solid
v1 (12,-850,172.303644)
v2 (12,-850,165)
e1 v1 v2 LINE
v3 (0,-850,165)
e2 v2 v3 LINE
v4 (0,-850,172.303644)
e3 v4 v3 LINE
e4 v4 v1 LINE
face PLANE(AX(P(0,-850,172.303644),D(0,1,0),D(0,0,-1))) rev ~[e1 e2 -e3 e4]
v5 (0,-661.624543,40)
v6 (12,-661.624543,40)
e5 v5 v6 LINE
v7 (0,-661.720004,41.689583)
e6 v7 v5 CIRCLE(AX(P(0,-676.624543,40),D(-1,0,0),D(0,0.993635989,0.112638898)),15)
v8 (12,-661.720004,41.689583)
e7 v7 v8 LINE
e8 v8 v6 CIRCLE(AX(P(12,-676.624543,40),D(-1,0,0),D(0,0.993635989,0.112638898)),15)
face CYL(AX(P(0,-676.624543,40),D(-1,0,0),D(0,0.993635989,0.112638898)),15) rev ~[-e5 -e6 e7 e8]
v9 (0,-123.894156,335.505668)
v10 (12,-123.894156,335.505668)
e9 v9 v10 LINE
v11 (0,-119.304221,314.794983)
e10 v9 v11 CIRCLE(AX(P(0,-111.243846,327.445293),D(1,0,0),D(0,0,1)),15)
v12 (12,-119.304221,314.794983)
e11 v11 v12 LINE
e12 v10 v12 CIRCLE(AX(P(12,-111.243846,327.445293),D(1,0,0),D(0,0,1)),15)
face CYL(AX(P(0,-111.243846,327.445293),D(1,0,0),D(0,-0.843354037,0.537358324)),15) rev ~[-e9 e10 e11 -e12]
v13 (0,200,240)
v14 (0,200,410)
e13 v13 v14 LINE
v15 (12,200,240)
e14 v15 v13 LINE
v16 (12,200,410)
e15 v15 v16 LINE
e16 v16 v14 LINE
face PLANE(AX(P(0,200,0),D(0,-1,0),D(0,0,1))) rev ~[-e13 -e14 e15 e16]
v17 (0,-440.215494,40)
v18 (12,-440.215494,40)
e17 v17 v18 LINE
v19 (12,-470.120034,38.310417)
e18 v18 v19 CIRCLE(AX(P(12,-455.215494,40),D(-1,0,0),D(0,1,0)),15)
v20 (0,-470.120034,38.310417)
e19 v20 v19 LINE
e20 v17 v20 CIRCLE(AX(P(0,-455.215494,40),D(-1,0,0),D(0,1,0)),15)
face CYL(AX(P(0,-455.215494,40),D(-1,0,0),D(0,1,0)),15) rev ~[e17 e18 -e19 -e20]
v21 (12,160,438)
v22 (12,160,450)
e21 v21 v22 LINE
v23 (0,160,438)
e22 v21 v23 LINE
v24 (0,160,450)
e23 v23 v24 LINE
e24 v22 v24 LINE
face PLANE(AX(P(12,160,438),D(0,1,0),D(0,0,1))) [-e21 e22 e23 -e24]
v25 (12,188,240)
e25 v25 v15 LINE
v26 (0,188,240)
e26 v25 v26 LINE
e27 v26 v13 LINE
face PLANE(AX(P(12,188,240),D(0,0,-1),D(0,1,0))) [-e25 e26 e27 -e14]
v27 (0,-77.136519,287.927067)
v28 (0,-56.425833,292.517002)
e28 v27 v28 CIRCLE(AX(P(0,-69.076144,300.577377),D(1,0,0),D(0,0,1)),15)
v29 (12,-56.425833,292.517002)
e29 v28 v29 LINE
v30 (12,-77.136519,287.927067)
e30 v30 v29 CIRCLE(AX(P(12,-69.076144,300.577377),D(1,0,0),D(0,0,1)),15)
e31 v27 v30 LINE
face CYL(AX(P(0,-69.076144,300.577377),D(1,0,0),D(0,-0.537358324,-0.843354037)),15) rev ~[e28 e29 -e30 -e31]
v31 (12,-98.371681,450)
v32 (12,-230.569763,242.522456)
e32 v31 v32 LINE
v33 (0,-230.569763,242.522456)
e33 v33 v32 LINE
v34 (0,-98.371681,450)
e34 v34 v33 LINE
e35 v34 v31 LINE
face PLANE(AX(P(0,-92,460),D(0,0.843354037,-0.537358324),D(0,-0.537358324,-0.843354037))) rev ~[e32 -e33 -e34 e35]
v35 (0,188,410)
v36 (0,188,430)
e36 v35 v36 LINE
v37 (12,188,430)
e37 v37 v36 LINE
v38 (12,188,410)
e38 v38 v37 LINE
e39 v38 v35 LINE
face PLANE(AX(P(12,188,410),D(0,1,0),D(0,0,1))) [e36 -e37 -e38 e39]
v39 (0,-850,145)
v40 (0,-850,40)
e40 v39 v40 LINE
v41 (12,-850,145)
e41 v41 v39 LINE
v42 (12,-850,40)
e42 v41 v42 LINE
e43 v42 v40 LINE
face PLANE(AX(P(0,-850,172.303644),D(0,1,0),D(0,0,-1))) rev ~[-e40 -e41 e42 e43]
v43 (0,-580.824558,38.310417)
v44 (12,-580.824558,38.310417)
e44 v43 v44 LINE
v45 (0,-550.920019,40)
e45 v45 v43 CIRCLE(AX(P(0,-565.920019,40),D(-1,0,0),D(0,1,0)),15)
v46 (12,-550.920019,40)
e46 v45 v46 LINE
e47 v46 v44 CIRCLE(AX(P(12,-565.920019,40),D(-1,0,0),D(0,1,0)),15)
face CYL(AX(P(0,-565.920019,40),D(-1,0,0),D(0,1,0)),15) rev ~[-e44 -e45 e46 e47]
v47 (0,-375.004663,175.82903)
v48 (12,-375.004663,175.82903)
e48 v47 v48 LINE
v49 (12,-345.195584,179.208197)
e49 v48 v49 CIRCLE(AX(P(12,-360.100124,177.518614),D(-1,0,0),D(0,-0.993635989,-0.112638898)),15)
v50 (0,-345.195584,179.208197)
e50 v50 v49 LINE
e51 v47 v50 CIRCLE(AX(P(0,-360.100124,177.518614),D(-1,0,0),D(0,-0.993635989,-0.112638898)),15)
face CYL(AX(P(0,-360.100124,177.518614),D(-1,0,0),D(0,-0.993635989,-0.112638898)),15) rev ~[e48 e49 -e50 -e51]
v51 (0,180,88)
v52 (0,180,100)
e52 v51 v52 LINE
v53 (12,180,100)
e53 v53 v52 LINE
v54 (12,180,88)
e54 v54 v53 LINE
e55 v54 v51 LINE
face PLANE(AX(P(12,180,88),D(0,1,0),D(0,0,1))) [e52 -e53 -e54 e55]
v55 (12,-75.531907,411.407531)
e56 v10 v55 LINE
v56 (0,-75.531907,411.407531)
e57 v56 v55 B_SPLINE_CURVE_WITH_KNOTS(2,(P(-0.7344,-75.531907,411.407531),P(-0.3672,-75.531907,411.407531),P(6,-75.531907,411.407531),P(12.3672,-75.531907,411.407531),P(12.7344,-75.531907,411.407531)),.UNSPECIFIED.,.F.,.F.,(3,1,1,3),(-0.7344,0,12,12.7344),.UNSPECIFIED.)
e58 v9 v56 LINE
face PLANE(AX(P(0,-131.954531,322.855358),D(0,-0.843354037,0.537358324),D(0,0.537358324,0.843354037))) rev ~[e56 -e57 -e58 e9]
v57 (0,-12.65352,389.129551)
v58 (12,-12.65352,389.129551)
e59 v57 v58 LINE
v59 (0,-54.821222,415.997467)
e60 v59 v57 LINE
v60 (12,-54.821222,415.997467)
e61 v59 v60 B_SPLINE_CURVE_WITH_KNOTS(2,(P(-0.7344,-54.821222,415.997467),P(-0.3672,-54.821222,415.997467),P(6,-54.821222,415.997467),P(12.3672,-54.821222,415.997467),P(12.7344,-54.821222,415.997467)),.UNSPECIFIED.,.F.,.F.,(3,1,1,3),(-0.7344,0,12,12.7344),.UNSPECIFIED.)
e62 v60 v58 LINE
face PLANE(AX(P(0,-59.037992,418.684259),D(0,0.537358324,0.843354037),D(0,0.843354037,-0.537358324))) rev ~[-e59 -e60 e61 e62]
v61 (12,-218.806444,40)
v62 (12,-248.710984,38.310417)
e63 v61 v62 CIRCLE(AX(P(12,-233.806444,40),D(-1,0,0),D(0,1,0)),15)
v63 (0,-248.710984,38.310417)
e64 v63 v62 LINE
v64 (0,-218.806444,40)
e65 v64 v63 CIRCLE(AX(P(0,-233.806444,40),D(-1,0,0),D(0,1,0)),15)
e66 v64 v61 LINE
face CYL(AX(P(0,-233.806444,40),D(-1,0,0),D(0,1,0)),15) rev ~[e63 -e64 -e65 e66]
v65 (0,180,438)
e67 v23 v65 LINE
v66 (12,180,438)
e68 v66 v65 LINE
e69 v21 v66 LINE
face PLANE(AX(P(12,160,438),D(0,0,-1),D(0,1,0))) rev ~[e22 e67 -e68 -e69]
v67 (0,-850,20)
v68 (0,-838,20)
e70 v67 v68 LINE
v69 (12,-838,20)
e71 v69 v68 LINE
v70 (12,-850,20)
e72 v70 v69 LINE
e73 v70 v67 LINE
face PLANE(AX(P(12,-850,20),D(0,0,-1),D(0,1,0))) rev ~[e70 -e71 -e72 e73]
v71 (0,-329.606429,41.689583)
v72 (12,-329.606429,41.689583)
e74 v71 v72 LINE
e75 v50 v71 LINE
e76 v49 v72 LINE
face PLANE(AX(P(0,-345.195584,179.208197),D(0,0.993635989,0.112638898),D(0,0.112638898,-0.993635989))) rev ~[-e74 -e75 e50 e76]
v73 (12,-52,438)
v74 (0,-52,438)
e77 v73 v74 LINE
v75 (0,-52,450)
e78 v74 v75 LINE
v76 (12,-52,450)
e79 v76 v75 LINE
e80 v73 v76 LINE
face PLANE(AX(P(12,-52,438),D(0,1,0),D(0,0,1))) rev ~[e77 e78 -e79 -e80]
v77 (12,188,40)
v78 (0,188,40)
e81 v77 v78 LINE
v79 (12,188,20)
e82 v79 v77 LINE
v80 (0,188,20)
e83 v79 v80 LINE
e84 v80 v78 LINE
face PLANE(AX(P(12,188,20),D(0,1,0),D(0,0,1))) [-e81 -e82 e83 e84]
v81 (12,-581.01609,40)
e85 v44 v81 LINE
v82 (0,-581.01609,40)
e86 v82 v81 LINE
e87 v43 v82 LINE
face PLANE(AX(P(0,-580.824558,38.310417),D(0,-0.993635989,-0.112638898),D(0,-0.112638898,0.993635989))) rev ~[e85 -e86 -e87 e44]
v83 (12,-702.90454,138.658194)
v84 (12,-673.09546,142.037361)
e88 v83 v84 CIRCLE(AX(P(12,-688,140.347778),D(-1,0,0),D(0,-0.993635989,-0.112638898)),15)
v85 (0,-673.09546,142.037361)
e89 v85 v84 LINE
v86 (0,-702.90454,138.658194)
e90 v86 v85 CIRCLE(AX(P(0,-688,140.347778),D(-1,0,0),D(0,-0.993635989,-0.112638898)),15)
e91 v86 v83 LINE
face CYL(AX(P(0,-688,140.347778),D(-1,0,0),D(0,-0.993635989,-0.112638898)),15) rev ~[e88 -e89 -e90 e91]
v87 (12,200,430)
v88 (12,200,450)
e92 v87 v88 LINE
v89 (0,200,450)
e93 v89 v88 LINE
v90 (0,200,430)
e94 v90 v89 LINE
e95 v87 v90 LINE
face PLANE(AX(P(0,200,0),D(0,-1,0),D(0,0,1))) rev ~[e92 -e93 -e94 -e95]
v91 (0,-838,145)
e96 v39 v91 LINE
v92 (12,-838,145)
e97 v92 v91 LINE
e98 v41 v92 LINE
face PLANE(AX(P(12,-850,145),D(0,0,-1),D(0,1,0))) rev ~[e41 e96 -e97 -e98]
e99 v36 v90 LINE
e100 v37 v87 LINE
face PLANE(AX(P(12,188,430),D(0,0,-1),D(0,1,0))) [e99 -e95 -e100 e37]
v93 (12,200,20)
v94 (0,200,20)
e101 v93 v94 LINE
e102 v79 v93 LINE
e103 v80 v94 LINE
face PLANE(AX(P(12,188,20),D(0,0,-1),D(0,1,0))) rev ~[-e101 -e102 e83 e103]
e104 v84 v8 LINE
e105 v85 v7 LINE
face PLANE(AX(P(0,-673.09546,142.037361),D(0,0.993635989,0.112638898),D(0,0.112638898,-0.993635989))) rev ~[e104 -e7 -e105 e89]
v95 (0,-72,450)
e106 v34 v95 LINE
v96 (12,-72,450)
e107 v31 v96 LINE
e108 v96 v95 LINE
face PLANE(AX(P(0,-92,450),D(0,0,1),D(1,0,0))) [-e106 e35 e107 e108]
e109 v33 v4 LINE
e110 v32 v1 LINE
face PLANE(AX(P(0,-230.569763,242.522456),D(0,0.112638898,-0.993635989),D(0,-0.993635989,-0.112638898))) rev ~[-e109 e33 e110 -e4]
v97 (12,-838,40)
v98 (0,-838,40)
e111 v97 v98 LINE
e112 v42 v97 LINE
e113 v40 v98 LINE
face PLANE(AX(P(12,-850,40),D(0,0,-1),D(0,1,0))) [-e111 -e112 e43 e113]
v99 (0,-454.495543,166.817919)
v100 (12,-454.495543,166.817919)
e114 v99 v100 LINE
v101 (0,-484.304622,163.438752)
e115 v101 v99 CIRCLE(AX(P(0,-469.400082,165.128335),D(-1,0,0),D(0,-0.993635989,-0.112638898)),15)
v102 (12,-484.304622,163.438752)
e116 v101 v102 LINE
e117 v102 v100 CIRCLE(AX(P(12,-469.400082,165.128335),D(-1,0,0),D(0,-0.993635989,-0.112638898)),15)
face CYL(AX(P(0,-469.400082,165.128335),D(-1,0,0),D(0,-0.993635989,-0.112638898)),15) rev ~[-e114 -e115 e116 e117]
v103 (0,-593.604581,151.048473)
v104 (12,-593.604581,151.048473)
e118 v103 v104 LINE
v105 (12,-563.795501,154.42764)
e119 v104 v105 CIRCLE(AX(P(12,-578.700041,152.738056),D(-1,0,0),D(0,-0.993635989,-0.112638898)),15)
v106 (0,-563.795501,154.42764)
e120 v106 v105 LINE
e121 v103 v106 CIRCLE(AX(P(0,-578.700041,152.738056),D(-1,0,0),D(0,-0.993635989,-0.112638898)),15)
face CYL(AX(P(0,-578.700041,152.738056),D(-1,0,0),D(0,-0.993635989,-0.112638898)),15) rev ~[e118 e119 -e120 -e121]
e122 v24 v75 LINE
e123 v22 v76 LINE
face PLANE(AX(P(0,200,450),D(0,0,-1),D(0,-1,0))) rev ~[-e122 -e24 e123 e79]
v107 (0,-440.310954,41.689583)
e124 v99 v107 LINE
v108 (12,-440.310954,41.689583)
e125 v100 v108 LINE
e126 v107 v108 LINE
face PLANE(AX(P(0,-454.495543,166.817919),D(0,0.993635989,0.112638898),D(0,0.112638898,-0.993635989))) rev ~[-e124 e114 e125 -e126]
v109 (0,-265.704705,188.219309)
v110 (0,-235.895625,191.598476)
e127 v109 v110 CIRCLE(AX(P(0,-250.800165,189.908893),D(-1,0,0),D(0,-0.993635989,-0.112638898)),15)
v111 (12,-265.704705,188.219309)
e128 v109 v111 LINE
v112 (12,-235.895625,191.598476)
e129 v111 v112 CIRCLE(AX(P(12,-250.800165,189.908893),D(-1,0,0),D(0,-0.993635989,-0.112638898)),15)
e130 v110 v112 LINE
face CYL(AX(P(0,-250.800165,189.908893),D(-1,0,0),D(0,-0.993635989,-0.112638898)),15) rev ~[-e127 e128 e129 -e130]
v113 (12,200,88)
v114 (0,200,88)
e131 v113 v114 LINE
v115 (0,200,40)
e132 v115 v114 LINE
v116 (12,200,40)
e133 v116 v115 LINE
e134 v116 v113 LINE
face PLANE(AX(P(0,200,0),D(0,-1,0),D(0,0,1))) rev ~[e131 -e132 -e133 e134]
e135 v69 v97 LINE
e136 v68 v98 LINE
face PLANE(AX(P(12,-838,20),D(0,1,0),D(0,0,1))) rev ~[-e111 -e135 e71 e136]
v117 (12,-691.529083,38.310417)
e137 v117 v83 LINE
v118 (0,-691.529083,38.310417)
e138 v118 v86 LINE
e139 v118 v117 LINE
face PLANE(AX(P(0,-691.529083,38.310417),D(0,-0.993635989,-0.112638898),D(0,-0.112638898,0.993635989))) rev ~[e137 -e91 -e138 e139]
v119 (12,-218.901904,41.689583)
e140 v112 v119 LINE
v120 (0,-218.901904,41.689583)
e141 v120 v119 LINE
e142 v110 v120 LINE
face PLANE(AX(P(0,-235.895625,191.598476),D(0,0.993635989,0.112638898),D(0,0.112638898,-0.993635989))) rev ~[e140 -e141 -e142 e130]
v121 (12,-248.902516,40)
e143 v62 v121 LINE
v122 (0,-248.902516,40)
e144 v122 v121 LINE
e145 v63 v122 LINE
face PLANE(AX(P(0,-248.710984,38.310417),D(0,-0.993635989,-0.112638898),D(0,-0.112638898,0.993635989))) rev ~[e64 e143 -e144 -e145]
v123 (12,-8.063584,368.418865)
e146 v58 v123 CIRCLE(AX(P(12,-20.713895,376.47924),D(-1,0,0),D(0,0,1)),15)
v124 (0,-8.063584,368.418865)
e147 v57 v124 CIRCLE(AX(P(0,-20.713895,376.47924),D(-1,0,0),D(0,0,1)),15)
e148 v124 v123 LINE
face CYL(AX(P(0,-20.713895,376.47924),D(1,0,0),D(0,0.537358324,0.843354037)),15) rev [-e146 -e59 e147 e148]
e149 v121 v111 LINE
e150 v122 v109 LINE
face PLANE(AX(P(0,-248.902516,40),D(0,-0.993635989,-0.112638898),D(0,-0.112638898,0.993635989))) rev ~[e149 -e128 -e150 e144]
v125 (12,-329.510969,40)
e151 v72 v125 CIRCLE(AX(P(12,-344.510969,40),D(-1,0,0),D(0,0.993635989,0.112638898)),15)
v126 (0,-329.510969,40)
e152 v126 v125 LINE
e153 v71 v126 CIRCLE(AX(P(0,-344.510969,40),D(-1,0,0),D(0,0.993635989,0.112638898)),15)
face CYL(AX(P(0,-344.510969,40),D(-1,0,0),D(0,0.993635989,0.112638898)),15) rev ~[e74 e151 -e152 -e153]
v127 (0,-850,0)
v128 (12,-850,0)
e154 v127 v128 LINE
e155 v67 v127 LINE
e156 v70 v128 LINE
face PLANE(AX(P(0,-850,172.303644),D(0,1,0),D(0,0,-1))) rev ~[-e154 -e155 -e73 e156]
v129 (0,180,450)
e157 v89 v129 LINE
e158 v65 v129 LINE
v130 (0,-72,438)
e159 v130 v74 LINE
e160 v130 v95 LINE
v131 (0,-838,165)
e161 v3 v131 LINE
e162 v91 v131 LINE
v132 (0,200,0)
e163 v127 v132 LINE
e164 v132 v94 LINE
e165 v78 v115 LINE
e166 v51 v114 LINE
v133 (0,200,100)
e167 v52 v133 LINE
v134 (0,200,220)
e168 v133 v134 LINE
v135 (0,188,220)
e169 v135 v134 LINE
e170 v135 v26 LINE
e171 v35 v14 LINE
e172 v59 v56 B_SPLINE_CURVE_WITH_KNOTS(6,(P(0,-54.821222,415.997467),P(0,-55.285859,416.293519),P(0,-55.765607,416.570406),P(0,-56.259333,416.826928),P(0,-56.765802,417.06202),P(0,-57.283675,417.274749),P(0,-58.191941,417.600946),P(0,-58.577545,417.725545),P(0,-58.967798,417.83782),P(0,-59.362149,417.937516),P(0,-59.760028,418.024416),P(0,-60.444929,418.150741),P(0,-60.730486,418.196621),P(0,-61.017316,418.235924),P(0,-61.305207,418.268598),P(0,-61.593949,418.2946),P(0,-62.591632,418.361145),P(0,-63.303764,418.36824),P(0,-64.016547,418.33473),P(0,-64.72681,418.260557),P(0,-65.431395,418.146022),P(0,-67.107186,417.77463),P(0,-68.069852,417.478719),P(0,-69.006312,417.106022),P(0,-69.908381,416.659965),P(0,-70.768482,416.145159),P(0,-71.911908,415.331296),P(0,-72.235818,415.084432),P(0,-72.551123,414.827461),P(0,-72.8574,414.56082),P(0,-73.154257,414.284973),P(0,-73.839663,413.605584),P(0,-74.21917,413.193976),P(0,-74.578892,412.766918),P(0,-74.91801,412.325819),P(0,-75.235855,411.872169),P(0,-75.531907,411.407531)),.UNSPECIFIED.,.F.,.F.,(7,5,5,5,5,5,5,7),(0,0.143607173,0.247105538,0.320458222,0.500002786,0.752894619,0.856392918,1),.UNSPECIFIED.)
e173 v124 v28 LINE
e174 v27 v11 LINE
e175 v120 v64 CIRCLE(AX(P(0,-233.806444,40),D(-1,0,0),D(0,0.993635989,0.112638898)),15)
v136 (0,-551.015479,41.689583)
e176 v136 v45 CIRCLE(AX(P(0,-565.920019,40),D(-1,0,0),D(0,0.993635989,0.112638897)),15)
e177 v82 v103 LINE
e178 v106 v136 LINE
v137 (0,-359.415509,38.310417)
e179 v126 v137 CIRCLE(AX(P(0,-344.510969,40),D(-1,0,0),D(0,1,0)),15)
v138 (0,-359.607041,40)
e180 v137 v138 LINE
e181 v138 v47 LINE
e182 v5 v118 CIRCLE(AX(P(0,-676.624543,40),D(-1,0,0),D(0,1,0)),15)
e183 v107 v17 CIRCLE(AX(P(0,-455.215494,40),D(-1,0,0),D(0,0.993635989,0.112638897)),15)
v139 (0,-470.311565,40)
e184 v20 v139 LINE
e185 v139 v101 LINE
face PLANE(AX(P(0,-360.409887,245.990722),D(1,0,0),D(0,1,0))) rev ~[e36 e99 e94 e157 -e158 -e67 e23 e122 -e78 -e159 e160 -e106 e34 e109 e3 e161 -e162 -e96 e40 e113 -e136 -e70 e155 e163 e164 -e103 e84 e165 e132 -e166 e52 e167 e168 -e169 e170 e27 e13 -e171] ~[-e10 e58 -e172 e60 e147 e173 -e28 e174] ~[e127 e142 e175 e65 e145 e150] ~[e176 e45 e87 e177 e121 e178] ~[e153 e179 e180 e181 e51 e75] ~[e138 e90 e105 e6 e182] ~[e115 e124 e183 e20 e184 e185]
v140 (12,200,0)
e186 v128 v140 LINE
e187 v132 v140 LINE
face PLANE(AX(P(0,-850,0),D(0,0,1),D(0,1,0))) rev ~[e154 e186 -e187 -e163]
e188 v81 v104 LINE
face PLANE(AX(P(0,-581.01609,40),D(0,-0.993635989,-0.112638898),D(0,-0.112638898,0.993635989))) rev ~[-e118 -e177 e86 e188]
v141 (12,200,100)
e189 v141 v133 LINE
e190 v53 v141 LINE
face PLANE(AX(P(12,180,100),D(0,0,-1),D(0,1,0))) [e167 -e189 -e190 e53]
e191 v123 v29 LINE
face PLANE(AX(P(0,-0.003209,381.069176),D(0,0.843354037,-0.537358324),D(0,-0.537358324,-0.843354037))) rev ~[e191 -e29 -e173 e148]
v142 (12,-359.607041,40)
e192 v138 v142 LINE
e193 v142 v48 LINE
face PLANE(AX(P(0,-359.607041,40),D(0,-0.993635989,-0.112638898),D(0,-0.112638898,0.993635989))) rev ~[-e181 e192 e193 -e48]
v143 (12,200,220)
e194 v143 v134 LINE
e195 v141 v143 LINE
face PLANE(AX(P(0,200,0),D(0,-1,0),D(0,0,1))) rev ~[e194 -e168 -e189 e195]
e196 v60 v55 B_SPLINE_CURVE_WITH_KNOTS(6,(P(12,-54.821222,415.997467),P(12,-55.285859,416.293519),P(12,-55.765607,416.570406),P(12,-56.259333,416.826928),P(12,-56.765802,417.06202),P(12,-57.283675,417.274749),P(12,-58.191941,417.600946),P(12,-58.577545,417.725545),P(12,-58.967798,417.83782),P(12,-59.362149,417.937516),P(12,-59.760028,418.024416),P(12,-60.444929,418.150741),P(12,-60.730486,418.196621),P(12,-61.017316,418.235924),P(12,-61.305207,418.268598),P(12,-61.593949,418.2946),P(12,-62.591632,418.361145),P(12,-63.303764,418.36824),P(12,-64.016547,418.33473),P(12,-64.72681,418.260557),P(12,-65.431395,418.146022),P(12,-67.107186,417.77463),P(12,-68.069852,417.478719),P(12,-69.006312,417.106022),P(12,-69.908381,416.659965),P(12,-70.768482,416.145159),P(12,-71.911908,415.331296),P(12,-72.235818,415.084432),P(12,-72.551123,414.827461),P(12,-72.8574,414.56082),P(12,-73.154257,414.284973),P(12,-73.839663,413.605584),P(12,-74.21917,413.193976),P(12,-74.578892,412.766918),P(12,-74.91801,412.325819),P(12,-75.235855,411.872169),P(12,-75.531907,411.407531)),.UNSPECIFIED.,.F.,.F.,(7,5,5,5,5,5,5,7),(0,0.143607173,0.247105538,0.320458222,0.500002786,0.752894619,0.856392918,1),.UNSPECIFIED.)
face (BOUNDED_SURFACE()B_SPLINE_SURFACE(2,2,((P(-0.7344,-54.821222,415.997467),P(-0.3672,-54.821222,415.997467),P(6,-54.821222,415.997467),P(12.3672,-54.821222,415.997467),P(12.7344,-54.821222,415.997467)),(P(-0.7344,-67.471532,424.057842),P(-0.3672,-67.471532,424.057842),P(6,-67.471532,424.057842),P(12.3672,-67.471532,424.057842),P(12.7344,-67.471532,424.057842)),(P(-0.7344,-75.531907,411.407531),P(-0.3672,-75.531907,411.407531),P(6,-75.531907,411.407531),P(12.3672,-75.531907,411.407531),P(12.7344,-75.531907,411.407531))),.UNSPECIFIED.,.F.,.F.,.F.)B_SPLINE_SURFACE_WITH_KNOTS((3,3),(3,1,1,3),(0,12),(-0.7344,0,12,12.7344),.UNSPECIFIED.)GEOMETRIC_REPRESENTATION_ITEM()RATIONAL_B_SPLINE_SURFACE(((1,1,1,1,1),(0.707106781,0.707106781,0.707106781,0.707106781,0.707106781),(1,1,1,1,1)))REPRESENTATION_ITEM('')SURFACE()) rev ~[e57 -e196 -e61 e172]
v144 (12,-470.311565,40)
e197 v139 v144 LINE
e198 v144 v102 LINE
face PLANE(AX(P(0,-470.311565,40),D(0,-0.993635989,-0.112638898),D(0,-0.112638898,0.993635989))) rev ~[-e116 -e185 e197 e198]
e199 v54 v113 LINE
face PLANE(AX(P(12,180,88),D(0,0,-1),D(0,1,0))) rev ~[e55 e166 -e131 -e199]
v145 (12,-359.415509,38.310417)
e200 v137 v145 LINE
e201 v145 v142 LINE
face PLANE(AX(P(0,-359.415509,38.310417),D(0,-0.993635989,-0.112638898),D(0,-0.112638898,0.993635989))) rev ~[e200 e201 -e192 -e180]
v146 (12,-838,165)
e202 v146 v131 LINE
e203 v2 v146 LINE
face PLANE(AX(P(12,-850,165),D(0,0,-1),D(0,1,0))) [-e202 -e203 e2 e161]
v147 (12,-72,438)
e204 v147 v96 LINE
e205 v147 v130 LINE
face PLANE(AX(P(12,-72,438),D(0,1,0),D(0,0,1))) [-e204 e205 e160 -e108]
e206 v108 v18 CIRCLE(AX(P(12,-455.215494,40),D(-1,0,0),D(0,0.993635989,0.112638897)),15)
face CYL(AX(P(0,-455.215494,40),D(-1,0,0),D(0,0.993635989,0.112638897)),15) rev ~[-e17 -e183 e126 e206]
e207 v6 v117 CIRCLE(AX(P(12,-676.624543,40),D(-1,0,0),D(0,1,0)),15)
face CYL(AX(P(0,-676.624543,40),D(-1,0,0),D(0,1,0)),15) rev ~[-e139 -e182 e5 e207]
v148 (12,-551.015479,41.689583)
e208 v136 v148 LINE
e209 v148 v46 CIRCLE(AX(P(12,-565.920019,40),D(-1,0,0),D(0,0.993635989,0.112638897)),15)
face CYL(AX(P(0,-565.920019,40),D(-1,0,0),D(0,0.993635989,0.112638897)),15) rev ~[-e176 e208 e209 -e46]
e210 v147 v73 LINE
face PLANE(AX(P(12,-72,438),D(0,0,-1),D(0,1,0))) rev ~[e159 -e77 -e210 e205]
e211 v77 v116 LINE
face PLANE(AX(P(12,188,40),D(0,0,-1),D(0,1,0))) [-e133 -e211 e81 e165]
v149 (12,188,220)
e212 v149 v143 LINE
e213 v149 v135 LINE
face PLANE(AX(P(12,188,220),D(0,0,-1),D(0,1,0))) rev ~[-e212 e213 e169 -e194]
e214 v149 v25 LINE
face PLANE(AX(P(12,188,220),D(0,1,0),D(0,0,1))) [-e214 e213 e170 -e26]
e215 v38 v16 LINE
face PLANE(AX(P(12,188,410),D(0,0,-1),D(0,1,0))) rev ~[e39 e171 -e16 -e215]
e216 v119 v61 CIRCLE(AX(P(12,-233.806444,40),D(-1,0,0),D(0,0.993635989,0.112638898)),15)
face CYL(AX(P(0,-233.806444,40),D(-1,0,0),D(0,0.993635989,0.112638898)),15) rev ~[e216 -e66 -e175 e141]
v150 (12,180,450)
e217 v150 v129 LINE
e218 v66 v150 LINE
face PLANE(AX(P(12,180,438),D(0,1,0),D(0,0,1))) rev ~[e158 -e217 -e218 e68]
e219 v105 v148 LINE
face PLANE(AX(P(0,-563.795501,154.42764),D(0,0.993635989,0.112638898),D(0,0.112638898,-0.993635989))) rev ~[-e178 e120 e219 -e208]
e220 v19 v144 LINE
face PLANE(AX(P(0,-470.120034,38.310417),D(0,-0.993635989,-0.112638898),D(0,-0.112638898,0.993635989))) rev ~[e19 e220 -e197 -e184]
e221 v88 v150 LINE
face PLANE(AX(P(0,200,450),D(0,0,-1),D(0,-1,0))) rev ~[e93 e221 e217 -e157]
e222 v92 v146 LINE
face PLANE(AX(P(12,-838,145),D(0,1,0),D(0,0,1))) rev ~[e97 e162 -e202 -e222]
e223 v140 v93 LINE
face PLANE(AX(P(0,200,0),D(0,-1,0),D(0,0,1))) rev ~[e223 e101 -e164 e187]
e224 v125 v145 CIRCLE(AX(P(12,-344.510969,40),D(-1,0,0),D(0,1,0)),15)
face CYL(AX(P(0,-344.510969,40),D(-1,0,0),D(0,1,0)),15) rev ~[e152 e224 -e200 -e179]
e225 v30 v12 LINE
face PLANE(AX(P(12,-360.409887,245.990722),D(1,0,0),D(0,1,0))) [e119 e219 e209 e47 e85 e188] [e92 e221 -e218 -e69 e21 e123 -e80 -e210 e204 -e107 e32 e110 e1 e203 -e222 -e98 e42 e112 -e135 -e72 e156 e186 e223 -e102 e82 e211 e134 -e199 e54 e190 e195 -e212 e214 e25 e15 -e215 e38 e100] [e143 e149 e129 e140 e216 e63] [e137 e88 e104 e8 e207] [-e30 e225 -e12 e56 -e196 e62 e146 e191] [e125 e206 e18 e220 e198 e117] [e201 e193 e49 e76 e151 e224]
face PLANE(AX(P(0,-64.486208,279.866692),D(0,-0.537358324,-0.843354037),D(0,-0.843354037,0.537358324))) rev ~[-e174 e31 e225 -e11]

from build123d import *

# Parameters (mm, degrees)
F0_W     = 200
F0_H     = 460
F1_DEPTH = 12
F2_W     = 12
F2_H     = 20
F2_W_2   = 20
F2_H_2   = 22
F3_DEPTH = 25
F4_R     = 15
F5_W     = 20
F5_H     = 12
F6_DEPTH = 25
F7_DEPTH = 10
F8_DEPTH = 25


with BuildPart() as f1:
    # F0 (on Right) → F1 (new body)
    with BuildSketch(Plane.YZ):
        with BuildLine():
            Line((-738, 185), (-738, 134.6797614515))
            Line((-738, 134.6797614515), (-702.9045398359, 138.6581941826))
            ThreePointArc((-702.9045398359, 138.6581941826), (-689.6895834632, 155.2523174818), (-673.0954601641, 142.037361109))
            Line((-673.0954601641, 142.037361109), (-593.6045810391, 151.0484729126))
            ThreePointArc((-593.6045810391, 151.0484729126), (-580.3896246663, 167.6425962118), (-563.7955013672, 154.427639839))
            Line((-563.7955013672, 154.427639839), (-484.3046222422, 163.4387516427))
            ThreePointArc((-484.3046222422, 163.4387516427), (-471.0896658695, 180.0328749418), (-454.4955425704, 166.817918569))
            Line((-454.4955425704, 166.817918569), (-375.0046634454, 175.8290303727))
            ThreePointArc((-375.0046634454, 175.8290303727), (-361.7897070726, 192.4231536718), (-345.1955837735, 179.208197299))
            Line((-345.1955837735, 179.208197299), (-265.7047046485, 188.2193091027))
            ThreePointArc((-265.7047046485, 188.2193091027), (-252.4897482758, 204.8134324018), (-235.8956249767, 191.598476029))
            Line((-235.8956249767, 191.598476029), (-201.2256178564, 195.5286792653))
            Line((-201.2256178564, 195.5286792653), (-123.5209909069, 317.4817743388))
            Line((-123.5209909069, 317.4817743388), (-131.9545312744, 322.8553575818))
            Line((-131.9545312744, 322.8553575818), (-67.4715323582, 424.0578419919))
            Line((-67.4715323582, 424.0578419919), (-59.0379919907, 418.6842587489))
            Line((-59.0379919907, 418.6842587489), (-32.7129179192, 460))
            Line((-32.7129179192, 460), (-92, 460))
            Line((-92, 460), (-100.5596901216, 446.5660418925))
            Line((-100.5596901216, 446.5660418925), (-230.5697625024, 242.5224560726))
            Line((-230.5697625024, 242.5224560726), (-738, 185))
        make_face()
        with BuildLine():
            Line((-593.6045810391, 151.0484729126), (-673.0954601641, 142.037361109))
            Line((-673.0954601641, 142.037361109), (-661.7200035888, 41.6895834632))
            ThreePointArc((-661.7200035888, 41.6895834632), (-661.6484274807, 40.8461390137), (-661.6245434248, 40))
            Line((-661.6245434248, 40), (-581.0160901826, 40))
            Line((-581.0160901826, 40), (-593.6045810391, 151.0484729126))
        make_face()
        with BuildLine():
            Line((-738, 0), (0, 0))
            Line((0, 0), (0, 460))
            Line((0, 460), (-32.7129179192, 460))
            Line((-32.7129179192, 460), (-59.0379919907, 418.6842587489))
            Line((-59.0379919907, 418.6842587489), (-0.0032094182, 381.0691760478))
            Line((-0.0032094182, 381.0691760478), (-64.4862083343, 279.8666916377))
            Line((-64.4862083343, 279.8666916377), (-123.5209909069, 317.4817743388))
            Line((-123.5209909069, 317.4817743388), (-201.2256178564, 195.5286792653))
            Line((-201.2256178564, 195.5286792653), (-231.0372798934, 148.7409319016))
            Line((-231.0372798934, 148.7409319016), (-218.9019043619, 41.6895834632))
            ThreePointArc((-218.9019043619, 41.6895834632), (-218.8303282538, 40.8461390137), (-218.8064441979, 40))
            ThreePointArc((-218.8064441979, 40), (-232.9603051842, 25.023884056), (-248.7109840338, 38.3104165368))
            Line((-248.7109840338, 38.3104165368), (-248.9025157624, 40))
            Line((-248.9025157624, 40), (-329.5109690046, 40))
            ThreePointArc((-329.5109690046, 40), (-343.6648299909, 25.023884056), (-359.4155088405, 38.3104165368))
            Line((-359.4155088405, 38.3104165368), (-359.6070405691, 40))
            Line((-359.6070405691, 40), (-440.2154938113, 40))
            ThreePointArc((-440.2154938113, 40), (-454.3693547976, 25.023884056), (-470.1200336472, 38.3104165368))
            Line((-470.1200336472, 38.3104165368), (-470.3115653759, 40))
            Line((-470.3115653759, 40), (-550.920018618, 40))
            ThreePointArc((-550.920018618, 40), (-565.0738796043, 25.023884056), (-580.824558454, 38.3104165368))
            Line((-580.824558454, 38.3104165368), (-581.0160901826, 40))
            Line((-581.0160901826, 40), (-661.6245434248, 40))
            ThreePointArc((-661.6245434248, 40), (-675.7784044111, 25.023884056), (-691.5290832607, 38.3104165368))
            Line((-691.5290832607, 38.3104165368), (-702.9045398359, 138.6581941826))
            Line((-702.9045398359, 138.6581941826), (-738, 134.6797614515))
            Line((-738, 134.6797614515), (-738, 0))
        make_face()
        with BuildLine():
            Line((-484.3046222422, 163.4387516427), (-563.7955013672, 154.427639839))
            Line((-563.7955013672, 154.427639839), (-551.0154787821, 41.6895834632))
            ThreePointArc((-551.0154787821, 41.6895834632), (-550.943902674, 40.8461390137), (-550.920018618, 40))
            Line((-550.920018618, 40), (-470.3115653759, 40))
            Line((-470.3115653759, 40), (-484.3046222422, 163.4387516427))
        make_face()
        with BuildLine():
            Line((-375.0046634454, 175.8290303727), (-454.4955425704, 166.817918569))
            Line((-454.4955425704, 166.817918569), (-440.3109539754, 41.6895834632))
            ThreePointArc((-440.3109539754, 41.6895834632), (-440.2393778673, 40.8461390137), (-440.2154938113, 40))
            Line((-440.2154938113, 40), (-359.6070405691, 40))
            Line((-359.6070405691, 40), (-375.0046634454, 175.8290303727))
        make_face()
        with BuildLine():
            Line((-256.6691814309, 108.513086433), (-265.7047046485, 188.2193091027))
            Line((-265.7047046485, 188.2193091027), (-345.1955837735, 179.208197299))
            Line((-345.1955837735, 179.208197299), (-329.6064291686, 41.6895834632))
            ThreePointArc((-329.6064291686, 41.6895834632), (-329.5348530605, 40.8461390137), (-329.5109690046, 40))
            Line((-329.5109690046, 40), (-248.9025157624, 40))
            Line((-248.9025157624, 40), (-256.6691814309, 108.513086433))
        make_face()
        Polygon((-231.0372798934, 148.7409319016), (-201.2256178564, 195.5286792653), (-235.8956249767, 191.598476029), align=None)
        with Locations((100, 230)):
            Rectangle(F0_W, F0_H)
        Polygon((-850, 0), (-738, 0), (-738, 134.6797614515), (-738, 185), (-850, 172.3036437247), align=None)
    extrude(amount=F1_DEPTH)

    # F2 (on face) → F3 (cut)
    with BuildSketch(Plane.YZ.offset(12)):
        with Locations((-844, 30)):
            Rectangle(F2_W, F2_H)
        with Locations((-844, 155)):
            Rectangle(F2_W, F2_H)
        with Locations((194, 30)):
            Rectangle(F2_W, F2_H)
        with Locations((194, 230)):
            Rectangle(F2_W, F2_H)
        with Locations((194, 420)):
            Rectangle(F2_W, F2_H)
        with Locations((170, 449)):
            Rectangle(F2_W_2, F2_H_2)
        with Locations((-62, 449)):
            Rectangle(F2_W_2, F2_H_2)
    extrude(amount=-F3_DEPTH, mode=Mode.SUBTRACT)

    # F4
    f4_edges = [f1.edges().sort_by_distance(p)[0] for p in [
        (6, -67.471532, 424.057842),
        (6, -131.954531, 322.855358),
        (6, -0.003209, 381.069176),
        (6, -64.486208, 279.866692),
    ]]
    fillet(f4_edges, radius=F4_R)

    # F5 (on face) → F6 (cut)
    with BuildSketch(Plane.YZ.offset(12)):
        with Locations((190, 94)):
            Rectangle(F5_W, F5_H)
    extrude(amount=-F6_DEPTH, mode=Mode.SUBTRACT)

    # F7 (cut): faces of the model
    f7_faces = [f1.faces().sort_by_distance(p)[0] for p in [
        (6, -82, 460),
        (6, 54, 460),
        (6, 190, 460),
    ]]
    extrude(f7_faces, amount=-F7_DEPTH, mode=Mode.SUBTRACT)

    # F8 (cut): a face of the model
    f8_faces = [f1.faces().sort_by_distance(p)[0] for p in [
        (6, -92, 455),
    ]]
    extrude(f8_faces, amount=-F8_DEPTH, mode=Mode.SUBTRACT)


solid = f1.part
